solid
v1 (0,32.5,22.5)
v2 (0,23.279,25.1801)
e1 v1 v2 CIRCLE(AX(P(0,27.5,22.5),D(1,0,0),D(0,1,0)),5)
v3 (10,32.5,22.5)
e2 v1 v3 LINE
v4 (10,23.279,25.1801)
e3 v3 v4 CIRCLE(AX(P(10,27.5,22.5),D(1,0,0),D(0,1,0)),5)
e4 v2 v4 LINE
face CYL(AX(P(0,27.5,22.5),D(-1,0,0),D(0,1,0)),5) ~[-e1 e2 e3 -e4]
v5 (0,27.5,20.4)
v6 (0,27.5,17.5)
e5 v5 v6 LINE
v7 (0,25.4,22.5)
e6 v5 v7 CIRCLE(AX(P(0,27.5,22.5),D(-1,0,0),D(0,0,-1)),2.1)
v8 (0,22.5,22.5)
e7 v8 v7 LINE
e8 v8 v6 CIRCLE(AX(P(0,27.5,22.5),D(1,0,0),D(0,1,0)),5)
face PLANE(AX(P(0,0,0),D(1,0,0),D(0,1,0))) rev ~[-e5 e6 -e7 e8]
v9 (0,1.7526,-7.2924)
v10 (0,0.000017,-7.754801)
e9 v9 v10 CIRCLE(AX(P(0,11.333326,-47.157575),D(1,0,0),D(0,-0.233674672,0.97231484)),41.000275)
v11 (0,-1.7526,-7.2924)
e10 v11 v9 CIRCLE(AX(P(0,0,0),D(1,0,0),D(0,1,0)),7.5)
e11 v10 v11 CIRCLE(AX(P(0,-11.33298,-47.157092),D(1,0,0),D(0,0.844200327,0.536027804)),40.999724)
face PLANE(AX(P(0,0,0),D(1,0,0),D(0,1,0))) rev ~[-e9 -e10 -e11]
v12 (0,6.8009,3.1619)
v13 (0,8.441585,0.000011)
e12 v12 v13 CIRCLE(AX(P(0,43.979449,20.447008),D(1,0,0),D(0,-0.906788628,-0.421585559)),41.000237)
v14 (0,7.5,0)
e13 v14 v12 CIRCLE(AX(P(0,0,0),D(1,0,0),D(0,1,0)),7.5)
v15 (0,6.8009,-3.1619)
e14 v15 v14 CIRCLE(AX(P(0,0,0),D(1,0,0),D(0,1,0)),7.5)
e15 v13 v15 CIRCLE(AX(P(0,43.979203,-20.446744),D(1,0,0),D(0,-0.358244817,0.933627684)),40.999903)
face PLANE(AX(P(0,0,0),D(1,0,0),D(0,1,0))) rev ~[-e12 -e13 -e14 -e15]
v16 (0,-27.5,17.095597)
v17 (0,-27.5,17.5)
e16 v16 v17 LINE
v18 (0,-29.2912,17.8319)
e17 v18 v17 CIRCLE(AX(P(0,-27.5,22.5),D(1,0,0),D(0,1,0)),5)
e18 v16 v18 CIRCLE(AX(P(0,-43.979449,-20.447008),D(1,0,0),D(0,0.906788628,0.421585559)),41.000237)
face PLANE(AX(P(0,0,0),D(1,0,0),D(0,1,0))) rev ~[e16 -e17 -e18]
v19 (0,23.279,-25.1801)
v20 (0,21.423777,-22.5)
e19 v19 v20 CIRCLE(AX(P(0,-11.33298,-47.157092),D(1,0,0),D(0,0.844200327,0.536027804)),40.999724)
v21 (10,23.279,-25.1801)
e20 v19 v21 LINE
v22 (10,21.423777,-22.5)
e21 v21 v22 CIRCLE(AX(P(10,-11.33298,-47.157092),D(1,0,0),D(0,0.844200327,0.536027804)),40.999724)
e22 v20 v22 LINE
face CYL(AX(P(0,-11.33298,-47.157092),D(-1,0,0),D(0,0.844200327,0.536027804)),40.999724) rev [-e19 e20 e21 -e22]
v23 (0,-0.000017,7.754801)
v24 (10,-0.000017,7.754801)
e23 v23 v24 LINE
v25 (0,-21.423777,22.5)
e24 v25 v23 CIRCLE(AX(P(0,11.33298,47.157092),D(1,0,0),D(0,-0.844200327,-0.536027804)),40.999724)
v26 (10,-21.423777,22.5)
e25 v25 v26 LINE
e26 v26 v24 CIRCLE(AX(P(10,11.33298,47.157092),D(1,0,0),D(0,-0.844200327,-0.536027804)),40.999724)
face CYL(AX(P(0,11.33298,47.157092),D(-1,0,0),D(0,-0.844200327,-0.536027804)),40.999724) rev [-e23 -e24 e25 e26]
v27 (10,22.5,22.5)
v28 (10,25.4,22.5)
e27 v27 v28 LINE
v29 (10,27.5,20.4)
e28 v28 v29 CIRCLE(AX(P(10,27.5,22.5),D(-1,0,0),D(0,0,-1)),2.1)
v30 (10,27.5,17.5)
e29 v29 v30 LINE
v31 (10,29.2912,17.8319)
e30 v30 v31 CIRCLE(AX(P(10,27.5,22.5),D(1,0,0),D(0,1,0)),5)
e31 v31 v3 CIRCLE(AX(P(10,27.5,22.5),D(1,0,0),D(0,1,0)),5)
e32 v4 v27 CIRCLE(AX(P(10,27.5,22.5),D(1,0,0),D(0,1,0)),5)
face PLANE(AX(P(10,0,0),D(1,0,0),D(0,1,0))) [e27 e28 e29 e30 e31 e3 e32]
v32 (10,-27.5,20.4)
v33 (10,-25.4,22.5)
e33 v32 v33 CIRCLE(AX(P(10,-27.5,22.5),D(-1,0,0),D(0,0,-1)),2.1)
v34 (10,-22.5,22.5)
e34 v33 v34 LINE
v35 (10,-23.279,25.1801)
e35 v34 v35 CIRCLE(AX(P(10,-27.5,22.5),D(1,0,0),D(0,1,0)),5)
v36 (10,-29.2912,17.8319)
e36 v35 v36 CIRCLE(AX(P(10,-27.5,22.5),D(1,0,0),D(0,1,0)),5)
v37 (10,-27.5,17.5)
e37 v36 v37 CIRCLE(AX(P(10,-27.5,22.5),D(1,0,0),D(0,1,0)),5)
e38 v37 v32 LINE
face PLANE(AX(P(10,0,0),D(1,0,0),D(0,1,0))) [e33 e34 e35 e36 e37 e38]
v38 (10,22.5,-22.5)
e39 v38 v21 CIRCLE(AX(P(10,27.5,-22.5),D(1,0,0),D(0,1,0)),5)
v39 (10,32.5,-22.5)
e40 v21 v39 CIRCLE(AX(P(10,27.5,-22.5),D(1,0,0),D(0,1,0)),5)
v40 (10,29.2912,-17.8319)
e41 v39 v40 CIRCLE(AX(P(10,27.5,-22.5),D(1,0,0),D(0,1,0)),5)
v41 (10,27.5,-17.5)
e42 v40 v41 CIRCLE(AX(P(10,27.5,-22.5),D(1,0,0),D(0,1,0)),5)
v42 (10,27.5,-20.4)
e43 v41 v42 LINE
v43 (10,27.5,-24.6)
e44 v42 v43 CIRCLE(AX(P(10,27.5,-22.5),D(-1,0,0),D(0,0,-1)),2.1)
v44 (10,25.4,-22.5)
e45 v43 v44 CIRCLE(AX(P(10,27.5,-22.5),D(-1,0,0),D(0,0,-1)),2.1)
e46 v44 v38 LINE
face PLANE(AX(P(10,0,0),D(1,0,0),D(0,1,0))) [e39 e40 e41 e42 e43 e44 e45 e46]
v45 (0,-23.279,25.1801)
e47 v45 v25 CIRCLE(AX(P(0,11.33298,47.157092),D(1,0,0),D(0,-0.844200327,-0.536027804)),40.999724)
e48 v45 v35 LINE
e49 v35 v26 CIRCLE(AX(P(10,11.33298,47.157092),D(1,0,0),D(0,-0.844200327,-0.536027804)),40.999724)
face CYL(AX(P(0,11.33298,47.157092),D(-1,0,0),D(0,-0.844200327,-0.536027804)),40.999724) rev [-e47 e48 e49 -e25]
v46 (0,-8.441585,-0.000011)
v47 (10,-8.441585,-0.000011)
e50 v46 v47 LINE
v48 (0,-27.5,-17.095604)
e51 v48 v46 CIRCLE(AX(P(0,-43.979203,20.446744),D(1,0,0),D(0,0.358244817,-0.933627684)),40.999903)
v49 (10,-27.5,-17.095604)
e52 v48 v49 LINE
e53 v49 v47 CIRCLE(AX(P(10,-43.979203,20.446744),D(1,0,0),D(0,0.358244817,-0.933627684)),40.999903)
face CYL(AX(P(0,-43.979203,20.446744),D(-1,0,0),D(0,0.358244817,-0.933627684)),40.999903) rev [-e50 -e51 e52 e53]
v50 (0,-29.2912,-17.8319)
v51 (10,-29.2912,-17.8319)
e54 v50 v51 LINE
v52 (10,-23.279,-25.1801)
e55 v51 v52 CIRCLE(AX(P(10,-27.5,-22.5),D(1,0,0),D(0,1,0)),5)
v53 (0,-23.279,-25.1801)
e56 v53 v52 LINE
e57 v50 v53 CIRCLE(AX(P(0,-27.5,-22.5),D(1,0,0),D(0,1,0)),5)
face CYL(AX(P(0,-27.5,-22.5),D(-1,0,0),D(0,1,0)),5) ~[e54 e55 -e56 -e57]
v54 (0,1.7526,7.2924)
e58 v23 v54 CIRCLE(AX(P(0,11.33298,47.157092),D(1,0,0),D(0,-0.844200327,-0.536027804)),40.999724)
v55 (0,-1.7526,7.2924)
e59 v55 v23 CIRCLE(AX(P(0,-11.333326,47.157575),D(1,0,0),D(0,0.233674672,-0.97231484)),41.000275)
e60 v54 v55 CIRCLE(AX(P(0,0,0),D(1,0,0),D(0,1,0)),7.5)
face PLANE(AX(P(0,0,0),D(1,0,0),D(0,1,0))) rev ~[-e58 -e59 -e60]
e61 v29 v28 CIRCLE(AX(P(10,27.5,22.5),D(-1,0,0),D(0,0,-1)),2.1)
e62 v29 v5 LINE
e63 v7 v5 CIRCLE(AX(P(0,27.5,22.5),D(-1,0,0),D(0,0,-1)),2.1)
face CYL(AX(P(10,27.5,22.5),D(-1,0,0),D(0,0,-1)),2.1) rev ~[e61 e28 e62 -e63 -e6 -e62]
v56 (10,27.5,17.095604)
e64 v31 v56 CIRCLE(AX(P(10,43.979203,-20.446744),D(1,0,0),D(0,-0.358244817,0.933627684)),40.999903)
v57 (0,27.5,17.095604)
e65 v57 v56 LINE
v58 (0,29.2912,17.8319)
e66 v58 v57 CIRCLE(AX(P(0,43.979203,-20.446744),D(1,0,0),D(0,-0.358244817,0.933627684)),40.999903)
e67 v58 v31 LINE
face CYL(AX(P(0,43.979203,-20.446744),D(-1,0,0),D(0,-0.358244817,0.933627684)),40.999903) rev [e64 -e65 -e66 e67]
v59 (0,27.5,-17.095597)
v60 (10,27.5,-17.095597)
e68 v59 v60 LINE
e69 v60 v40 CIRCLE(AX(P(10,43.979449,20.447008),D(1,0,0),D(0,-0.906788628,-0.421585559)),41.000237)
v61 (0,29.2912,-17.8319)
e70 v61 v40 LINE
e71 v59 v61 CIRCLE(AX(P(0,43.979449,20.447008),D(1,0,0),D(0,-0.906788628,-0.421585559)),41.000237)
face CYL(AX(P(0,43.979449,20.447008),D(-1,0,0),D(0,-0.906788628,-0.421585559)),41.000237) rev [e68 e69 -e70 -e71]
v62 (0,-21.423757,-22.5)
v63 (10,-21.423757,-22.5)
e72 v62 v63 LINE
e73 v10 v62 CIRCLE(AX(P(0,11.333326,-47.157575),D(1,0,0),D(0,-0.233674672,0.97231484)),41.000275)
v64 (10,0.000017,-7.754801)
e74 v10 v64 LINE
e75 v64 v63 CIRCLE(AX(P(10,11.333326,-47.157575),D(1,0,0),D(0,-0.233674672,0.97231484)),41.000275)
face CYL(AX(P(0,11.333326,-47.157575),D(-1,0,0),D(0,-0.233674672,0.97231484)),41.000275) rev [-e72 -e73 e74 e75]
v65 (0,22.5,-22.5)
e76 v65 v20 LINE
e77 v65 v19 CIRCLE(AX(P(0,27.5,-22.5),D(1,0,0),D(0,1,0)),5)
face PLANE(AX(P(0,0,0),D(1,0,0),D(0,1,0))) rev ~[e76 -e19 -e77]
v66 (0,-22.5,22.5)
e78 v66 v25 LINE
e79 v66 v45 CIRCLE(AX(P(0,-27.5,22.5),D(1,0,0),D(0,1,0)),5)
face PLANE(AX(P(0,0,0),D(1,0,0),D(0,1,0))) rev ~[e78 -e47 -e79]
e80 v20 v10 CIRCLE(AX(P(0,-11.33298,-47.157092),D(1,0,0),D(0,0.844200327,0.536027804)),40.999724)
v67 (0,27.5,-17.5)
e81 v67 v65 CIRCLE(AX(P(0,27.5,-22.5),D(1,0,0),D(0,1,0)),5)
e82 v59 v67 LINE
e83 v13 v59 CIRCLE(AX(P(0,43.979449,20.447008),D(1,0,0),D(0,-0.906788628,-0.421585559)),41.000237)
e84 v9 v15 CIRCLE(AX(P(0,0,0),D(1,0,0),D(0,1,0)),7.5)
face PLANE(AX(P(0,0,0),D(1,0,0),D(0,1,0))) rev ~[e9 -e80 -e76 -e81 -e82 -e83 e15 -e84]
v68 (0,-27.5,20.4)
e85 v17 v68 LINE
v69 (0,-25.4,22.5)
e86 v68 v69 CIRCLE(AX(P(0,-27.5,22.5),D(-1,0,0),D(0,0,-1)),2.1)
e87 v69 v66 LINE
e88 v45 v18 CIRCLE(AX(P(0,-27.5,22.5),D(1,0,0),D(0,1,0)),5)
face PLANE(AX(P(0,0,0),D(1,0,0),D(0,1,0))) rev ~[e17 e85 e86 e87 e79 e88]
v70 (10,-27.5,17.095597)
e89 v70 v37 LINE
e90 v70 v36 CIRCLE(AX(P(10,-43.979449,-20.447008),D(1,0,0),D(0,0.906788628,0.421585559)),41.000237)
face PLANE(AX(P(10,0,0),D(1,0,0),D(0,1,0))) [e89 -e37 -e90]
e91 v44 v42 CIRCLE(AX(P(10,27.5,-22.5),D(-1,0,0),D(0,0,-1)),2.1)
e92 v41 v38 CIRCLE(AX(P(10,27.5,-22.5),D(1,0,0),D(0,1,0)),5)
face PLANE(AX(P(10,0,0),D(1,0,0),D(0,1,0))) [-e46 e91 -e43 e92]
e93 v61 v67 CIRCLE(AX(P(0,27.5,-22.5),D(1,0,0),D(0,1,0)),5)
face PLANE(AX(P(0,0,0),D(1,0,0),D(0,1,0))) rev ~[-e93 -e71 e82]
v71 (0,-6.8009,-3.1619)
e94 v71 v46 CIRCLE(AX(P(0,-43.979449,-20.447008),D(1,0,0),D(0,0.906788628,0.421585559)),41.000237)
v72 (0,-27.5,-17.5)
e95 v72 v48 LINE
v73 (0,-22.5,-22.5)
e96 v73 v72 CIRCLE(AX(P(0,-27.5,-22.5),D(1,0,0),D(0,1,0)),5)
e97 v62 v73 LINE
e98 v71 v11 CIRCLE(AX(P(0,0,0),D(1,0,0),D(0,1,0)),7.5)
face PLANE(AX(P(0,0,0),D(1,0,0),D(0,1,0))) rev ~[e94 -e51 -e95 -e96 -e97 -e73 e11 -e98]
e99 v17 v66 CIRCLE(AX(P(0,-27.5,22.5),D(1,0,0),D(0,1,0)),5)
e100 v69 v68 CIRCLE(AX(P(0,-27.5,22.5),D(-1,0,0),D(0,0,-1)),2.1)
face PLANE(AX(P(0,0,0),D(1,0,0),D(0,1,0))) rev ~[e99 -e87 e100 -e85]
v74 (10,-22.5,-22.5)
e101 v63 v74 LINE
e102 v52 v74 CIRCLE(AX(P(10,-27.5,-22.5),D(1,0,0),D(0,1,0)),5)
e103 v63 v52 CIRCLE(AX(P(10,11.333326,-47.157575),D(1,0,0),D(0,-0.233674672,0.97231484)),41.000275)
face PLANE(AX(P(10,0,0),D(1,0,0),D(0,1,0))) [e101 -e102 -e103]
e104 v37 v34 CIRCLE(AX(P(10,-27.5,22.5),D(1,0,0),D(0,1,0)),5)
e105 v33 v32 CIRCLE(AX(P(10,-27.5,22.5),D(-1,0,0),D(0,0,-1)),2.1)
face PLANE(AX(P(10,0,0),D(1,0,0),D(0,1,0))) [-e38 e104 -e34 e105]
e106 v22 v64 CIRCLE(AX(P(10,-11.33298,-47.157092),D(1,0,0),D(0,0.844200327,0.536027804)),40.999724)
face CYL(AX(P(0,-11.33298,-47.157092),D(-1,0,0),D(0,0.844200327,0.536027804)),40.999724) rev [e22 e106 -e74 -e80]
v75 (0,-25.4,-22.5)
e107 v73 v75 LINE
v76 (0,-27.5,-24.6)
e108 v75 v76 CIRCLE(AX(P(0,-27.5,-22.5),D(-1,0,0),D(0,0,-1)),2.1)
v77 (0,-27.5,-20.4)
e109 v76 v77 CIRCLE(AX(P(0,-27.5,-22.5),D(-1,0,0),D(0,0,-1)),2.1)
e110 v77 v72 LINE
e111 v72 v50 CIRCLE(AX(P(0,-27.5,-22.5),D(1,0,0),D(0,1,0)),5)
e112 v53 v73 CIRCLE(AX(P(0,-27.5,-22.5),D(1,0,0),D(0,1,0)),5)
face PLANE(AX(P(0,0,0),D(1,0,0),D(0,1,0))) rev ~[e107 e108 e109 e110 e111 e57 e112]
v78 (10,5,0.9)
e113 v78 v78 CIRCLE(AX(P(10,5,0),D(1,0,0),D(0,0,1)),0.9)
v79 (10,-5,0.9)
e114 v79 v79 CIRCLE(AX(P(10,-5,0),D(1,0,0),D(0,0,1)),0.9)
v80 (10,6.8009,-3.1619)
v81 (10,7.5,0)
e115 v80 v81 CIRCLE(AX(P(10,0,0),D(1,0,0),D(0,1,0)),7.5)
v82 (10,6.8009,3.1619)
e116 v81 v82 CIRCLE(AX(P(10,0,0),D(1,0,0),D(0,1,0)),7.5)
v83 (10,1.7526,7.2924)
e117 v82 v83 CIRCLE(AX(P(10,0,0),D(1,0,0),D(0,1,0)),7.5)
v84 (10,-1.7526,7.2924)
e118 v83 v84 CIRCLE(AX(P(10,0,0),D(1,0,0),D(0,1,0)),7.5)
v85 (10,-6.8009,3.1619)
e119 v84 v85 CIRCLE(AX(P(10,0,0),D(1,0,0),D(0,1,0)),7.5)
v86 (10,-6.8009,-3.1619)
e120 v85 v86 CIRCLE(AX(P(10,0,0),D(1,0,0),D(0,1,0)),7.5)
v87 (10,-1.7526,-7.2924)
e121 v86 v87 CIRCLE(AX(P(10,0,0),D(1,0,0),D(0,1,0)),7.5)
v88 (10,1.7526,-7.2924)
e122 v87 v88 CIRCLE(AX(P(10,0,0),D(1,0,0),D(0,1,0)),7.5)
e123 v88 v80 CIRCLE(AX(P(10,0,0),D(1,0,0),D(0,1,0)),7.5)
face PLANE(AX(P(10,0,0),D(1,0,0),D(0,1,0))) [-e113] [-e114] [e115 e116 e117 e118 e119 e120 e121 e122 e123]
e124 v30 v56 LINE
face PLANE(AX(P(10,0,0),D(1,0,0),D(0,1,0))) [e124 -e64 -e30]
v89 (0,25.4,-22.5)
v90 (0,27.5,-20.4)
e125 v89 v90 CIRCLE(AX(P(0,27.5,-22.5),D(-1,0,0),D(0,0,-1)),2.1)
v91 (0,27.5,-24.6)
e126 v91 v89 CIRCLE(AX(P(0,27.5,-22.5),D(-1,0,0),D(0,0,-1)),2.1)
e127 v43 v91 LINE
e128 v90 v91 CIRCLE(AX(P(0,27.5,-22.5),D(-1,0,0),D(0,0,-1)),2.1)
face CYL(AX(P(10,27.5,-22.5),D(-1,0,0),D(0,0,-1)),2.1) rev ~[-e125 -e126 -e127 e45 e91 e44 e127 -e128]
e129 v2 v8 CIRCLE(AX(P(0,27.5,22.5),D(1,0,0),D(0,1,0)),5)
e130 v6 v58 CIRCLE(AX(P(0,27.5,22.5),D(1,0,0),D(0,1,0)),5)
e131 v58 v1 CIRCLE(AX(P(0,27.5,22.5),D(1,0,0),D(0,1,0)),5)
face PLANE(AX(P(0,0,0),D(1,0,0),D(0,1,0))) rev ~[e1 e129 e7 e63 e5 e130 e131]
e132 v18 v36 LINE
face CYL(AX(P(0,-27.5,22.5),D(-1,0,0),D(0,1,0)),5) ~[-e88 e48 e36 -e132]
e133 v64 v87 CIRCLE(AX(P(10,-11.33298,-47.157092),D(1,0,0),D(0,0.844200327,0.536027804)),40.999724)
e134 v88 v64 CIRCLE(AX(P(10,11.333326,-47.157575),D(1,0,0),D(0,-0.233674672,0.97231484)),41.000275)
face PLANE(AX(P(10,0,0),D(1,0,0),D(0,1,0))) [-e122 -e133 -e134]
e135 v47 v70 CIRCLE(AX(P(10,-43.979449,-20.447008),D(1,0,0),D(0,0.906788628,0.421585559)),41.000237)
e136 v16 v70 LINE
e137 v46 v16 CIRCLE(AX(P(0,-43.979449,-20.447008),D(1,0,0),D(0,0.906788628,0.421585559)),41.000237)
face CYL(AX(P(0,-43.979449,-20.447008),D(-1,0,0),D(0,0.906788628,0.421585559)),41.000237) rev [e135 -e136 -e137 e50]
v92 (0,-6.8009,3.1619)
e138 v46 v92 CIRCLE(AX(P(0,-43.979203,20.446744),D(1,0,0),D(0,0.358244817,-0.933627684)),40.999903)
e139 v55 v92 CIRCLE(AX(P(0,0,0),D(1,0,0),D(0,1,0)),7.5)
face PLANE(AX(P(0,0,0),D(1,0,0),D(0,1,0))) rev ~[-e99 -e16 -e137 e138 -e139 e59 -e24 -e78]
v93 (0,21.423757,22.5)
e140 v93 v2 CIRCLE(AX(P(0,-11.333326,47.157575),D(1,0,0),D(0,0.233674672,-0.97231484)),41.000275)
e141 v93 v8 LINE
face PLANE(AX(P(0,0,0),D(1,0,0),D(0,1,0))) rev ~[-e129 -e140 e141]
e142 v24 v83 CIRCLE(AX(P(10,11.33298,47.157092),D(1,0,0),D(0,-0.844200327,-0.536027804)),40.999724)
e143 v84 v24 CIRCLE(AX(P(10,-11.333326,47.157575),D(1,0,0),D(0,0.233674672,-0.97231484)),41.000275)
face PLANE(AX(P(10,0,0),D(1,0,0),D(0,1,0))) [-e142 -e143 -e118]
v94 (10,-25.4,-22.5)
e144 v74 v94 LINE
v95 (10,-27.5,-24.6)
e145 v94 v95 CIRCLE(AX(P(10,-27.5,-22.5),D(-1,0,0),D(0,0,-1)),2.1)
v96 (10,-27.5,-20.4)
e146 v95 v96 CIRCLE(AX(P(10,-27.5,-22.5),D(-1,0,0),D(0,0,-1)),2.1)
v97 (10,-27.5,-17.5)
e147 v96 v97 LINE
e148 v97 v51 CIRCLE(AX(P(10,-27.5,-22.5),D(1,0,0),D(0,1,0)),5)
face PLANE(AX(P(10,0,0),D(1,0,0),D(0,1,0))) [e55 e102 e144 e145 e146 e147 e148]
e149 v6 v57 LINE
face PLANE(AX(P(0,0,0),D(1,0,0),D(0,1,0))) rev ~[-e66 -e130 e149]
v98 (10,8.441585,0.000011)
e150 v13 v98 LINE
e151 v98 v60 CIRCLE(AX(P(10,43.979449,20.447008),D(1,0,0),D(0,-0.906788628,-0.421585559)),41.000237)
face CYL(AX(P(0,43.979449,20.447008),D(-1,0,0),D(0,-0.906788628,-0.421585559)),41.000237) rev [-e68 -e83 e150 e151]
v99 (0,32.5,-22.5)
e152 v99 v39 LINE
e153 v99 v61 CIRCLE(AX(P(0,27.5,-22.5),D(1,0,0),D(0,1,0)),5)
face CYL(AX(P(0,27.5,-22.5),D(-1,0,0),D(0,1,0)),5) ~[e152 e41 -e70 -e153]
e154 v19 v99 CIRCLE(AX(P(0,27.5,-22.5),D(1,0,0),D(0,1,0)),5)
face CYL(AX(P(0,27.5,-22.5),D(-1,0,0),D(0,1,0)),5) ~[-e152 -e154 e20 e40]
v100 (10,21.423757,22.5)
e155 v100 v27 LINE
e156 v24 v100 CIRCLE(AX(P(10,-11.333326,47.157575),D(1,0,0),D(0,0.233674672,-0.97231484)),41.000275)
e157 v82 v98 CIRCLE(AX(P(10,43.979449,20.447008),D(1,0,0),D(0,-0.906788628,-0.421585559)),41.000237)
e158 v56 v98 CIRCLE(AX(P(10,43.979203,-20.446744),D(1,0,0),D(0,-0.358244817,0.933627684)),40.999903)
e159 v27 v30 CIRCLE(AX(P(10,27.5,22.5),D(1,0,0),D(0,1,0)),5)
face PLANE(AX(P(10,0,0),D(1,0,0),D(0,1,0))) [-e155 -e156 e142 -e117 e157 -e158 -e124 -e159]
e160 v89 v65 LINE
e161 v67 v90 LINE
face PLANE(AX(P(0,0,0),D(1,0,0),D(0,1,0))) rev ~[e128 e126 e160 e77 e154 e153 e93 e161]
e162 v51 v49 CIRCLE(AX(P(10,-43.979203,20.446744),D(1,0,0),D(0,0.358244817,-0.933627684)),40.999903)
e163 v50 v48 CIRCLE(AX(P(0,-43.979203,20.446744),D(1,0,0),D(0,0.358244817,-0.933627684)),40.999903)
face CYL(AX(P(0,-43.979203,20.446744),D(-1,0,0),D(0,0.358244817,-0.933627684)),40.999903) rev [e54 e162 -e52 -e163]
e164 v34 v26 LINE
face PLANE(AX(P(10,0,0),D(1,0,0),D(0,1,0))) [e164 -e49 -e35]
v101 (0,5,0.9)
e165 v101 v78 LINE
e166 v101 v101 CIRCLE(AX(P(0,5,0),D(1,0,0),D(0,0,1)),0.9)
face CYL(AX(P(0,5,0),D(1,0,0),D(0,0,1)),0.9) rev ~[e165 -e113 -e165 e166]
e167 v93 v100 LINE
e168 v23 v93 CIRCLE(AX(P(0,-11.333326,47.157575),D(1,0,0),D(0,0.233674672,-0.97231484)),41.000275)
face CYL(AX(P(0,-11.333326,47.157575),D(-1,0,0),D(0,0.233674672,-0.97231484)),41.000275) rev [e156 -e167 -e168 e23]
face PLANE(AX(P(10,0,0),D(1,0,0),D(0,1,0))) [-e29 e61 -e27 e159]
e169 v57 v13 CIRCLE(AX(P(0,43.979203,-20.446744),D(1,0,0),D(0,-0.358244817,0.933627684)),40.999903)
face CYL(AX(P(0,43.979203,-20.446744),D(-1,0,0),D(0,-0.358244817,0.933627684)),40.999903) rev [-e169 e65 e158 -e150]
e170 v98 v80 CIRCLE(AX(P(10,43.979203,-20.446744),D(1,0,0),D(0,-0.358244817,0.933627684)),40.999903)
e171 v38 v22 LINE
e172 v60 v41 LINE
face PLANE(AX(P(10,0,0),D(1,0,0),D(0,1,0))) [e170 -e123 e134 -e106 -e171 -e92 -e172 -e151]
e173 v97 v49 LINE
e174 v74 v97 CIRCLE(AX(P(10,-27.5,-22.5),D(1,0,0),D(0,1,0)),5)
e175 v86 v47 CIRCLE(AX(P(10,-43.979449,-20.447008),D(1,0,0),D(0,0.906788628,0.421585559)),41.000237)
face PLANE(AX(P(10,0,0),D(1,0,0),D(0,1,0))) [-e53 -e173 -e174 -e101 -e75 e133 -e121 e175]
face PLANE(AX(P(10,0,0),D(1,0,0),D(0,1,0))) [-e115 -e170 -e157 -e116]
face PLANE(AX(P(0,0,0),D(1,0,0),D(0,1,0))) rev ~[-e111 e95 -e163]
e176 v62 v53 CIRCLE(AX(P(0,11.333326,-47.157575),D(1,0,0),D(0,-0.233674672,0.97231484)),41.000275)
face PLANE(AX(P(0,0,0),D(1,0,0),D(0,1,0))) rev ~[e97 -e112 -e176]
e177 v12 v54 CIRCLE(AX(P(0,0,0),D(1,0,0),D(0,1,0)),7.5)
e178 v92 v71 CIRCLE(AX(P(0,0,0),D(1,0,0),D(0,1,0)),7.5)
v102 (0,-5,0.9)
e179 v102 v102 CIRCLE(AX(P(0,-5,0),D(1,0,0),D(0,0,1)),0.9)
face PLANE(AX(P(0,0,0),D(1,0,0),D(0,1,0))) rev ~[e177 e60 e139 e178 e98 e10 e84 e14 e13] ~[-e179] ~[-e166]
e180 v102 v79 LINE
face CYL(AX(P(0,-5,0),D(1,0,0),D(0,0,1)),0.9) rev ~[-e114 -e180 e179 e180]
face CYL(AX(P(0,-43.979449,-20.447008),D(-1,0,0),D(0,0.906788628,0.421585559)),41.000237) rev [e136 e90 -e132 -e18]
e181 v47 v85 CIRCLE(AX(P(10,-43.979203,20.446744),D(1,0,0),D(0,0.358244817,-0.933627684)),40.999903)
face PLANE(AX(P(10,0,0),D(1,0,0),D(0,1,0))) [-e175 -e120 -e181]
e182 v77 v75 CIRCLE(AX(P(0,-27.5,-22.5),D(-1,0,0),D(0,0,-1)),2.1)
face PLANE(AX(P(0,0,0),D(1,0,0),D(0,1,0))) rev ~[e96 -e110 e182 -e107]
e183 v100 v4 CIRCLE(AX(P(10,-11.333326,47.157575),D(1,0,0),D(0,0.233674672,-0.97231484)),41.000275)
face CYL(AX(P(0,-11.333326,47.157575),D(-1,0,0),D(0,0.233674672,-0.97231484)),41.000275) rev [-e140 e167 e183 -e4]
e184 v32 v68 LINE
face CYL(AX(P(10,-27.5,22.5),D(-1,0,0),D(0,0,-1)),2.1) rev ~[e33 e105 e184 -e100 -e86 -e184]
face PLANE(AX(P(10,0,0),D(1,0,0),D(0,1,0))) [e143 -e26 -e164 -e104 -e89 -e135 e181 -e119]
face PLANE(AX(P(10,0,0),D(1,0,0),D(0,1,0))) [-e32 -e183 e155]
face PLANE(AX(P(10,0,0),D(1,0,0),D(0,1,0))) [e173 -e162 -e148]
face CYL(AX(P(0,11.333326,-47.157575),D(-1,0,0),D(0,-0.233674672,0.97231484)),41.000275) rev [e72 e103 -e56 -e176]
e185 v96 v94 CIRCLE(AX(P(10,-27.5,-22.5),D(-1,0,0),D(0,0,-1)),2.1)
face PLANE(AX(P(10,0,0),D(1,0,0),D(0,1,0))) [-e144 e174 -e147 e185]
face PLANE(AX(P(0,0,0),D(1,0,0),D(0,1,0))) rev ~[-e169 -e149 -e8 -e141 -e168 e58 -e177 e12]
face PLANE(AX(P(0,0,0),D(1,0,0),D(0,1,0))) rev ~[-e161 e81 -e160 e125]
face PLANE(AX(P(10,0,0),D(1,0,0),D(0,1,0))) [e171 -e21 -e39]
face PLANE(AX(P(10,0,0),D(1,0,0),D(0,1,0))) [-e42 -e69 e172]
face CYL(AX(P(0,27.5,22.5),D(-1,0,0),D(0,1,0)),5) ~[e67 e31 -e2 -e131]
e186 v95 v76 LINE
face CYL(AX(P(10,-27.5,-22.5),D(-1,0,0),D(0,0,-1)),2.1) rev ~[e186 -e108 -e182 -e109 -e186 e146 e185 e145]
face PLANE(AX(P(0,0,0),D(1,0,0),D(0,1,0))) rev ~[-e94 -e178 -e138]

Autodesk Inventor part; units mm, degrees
ref_plane "YZ Plane" through (0, 0, 0) normal (1, 0, 0) x (0, 1, 0)
ref_plane "XZ Plane" through (0, 0, 0) normal (0, 1, 0) x (-1, 0, 0)
ref_plane "XY Plane" through (0, 0, 0) normal (0, 0, 1) x (1, 0, 0)
sketch "Sketch1" plane through (0, 0, 0) normal (1, 0, 0) x (0, 1, 0)
  line L0 (-27.5, 22.5) -> (27.5, 22.5)
  line L1 (27.5, 22.5) -> (27.5, -22.5)
  line L2 (27.5, -22.5) -> (-27.5, -22.5)
  line L3 (-27.5, -22.5) -> (-27.5, 22.5)
  line L4 (-27.5, 22.5) -> (27.5, -22.5) construction
  line L5 (27.5, 22.5) -> (-27.5, -22.5) construction
  circle A0 centre (27.5, 22.5) radius 5
  circle A1 centre (27.5, -22.5) radius 5
  line L6 (0, -22.5) -> (0, 22.5) construction
  circle A2 centre (0, 0) radius 7.5
  arc A3 (29.2912, 17.8319) -> (6.8009, -3.1619) centre (43.9793, -20.4469) ccw
  arc A4 (-1.7526, 7.2924) -> (23.279, 25.1801) centre (-11.3332, 47.1573) ccw
  line L7 (27.5, 0) -> (-27.5, 0) construction
  arc A5 (6.8009, 3.1619) -> (29.2912, -17.8319) centre (43.9793, 20.4469) ccw
  arc A6 (23.279, -25.1801) -> (-1.7526, -7.2924) centre (-11.3332, -47.1573) ccw
  circle A7 centre (-27.5, 22.5) radius 5
  circle A8 centre (-27.5, -22.5) radius 5
  arc A9 (-6.8009, -3.1619) -> (-29.2912, 17.8319) centre (-43.9793, -20.4469) ccw
  arc A10 (-23.279, 25.1801) -> (1.7526, 7.2924) centre (11.3332, 47.1573) ccw
  arc A11 (-29.2912, -17.8319) -> (-6.8009, 3.1619) centre (-43.9793, 20.4469) ccw
  arc A12 (1.7526, -7.2924) -> (-23.279, -25.1801) centre (11.3332, -47.1573) ccw
  point P0 (23.279, 25.1801)
  point P1 (0, 7.7548)
  point P2 (-23.279, 25.1801)
  point P3 (-8.4416, 0)
  point P4 (-29.2912, -17.8319)
  point P5 (-23.279, -25.1801)
  point P6 (0, -7.7548)
  point P7 (23.279, -25.1801)
  point P8 (29.2912, -17.8319)
  point P9 (8.4416, 0)
  dimension "d3" = 15
  dimension "d0" = 55
  dimension "d1" = 45
  dimension "d2" = 10
  dimension "d4" = 41
extrude "Extrusion1" add sketch "Sketch1" along normal blind 10 contours L3 A7 L0 | L0 A7 L3 | A7 A10 L0 | L0 A10 A4 A2 A11 A9 L3 A7 | L3 A9 A7 | A4 A0 L0 | L0 A0 L1 A3 A5 A2 A10 A4 | A10 A2 A4 | A11 A9 A2 A6 A12 L2 A8 L3 | L3 A8 A11 | A11 A2 A9 | A0 L1 L0 | L0 L1 A0 | A2 | A8 L2 L3 | L3 L2 A8 | A0 A3 L1 | A5 A3 A2 | L2 A12 A8 | A2 A12 A6 | A5 L1 A1 L2 A6 A12 A2 A3 | A5 A1 L1 | L2 A1 A6 | A1 L2 L1 | L1 L2 A1
sketch "Sketch2" plane through (10, 0, 0) normal (1, 0, 0) x (0, 0, -1)
  arc A0 (-25.1801, -23.279) -> (-7.7548, 0) centre (-47.1573, 11.3332) ccw projected
  arc A1 (-25.1801, -23.279) -> (-17.8319, -29.2912) centre (-22.5, -27.5) ccw projected
  arc A2 (0, -8.4416) -> (-17.8319, -29.2912) centre (20.4469, -43.9793) ccw projected
  arc A3 (17.8319, -29.2912) -> (0, -8.4416) centre (-20.4469, -43.9793) ccw projected
  arc A4 (17.8319, -29.2912) -> (25.1801, -23.279) centre (22.5, -27.5) ccw projected
  arc A5 (7.7548, 0) -> (25.1801, -23.279) centre (47.1573, 11.3332) ccw projected
  arc A6 (25.1801, 23.279) -> (7.7548, 0) centre (47.1573, -11.3332) ccw projected
  arc A7 (25.1801, 23.279) -> (17.8319, 29.2912) centre (22.5, 27.5) ccw projected
  arc A8 (0, 8.4416) -> (17.8319, 29.2912) centre (-20.4469, 43.9793) ccw projected
  arc A9 (-17.8319, 29.2912) -> (0, 8.4416) centre (20.4469, 43.9793) ccw projected
  arc A10 (-17.8319, 29.2912) -> (-25.1801, 23.279) centre (-22.5, 27.5) ccw projected
  arc A11 (-7.7548, 0) -> (-25.1801, 23.279) centre (-47.1573, -11.3332) ccw projected
  point P0 (0, 0)
hole "Hole1" at (10, 27.5, 22.5) at (10, -27.5, 22.5) at (10, -27.5, -22.5) at (10, 27.5, -22.5) direction (-1, 0, 0) diameter 4.2 end through all
sketch "Sketch3" plane through (0, 0, 0) normal (-1, 0, 0) x (0, 0, 1)
  line L0 (0, 5) -> (0, -5)
  line L1 (0, 0) -> (4.5458, 0) construction
  dimension "d14" = 10
hole "Hole2" at (0, 5, 0) at (0, -5, 0) direction (1, 0, 0) diameter 1.8 end through all
properties part number "21_Tam_go_trung_gian" material "Stainless Steel, Austenitic"
